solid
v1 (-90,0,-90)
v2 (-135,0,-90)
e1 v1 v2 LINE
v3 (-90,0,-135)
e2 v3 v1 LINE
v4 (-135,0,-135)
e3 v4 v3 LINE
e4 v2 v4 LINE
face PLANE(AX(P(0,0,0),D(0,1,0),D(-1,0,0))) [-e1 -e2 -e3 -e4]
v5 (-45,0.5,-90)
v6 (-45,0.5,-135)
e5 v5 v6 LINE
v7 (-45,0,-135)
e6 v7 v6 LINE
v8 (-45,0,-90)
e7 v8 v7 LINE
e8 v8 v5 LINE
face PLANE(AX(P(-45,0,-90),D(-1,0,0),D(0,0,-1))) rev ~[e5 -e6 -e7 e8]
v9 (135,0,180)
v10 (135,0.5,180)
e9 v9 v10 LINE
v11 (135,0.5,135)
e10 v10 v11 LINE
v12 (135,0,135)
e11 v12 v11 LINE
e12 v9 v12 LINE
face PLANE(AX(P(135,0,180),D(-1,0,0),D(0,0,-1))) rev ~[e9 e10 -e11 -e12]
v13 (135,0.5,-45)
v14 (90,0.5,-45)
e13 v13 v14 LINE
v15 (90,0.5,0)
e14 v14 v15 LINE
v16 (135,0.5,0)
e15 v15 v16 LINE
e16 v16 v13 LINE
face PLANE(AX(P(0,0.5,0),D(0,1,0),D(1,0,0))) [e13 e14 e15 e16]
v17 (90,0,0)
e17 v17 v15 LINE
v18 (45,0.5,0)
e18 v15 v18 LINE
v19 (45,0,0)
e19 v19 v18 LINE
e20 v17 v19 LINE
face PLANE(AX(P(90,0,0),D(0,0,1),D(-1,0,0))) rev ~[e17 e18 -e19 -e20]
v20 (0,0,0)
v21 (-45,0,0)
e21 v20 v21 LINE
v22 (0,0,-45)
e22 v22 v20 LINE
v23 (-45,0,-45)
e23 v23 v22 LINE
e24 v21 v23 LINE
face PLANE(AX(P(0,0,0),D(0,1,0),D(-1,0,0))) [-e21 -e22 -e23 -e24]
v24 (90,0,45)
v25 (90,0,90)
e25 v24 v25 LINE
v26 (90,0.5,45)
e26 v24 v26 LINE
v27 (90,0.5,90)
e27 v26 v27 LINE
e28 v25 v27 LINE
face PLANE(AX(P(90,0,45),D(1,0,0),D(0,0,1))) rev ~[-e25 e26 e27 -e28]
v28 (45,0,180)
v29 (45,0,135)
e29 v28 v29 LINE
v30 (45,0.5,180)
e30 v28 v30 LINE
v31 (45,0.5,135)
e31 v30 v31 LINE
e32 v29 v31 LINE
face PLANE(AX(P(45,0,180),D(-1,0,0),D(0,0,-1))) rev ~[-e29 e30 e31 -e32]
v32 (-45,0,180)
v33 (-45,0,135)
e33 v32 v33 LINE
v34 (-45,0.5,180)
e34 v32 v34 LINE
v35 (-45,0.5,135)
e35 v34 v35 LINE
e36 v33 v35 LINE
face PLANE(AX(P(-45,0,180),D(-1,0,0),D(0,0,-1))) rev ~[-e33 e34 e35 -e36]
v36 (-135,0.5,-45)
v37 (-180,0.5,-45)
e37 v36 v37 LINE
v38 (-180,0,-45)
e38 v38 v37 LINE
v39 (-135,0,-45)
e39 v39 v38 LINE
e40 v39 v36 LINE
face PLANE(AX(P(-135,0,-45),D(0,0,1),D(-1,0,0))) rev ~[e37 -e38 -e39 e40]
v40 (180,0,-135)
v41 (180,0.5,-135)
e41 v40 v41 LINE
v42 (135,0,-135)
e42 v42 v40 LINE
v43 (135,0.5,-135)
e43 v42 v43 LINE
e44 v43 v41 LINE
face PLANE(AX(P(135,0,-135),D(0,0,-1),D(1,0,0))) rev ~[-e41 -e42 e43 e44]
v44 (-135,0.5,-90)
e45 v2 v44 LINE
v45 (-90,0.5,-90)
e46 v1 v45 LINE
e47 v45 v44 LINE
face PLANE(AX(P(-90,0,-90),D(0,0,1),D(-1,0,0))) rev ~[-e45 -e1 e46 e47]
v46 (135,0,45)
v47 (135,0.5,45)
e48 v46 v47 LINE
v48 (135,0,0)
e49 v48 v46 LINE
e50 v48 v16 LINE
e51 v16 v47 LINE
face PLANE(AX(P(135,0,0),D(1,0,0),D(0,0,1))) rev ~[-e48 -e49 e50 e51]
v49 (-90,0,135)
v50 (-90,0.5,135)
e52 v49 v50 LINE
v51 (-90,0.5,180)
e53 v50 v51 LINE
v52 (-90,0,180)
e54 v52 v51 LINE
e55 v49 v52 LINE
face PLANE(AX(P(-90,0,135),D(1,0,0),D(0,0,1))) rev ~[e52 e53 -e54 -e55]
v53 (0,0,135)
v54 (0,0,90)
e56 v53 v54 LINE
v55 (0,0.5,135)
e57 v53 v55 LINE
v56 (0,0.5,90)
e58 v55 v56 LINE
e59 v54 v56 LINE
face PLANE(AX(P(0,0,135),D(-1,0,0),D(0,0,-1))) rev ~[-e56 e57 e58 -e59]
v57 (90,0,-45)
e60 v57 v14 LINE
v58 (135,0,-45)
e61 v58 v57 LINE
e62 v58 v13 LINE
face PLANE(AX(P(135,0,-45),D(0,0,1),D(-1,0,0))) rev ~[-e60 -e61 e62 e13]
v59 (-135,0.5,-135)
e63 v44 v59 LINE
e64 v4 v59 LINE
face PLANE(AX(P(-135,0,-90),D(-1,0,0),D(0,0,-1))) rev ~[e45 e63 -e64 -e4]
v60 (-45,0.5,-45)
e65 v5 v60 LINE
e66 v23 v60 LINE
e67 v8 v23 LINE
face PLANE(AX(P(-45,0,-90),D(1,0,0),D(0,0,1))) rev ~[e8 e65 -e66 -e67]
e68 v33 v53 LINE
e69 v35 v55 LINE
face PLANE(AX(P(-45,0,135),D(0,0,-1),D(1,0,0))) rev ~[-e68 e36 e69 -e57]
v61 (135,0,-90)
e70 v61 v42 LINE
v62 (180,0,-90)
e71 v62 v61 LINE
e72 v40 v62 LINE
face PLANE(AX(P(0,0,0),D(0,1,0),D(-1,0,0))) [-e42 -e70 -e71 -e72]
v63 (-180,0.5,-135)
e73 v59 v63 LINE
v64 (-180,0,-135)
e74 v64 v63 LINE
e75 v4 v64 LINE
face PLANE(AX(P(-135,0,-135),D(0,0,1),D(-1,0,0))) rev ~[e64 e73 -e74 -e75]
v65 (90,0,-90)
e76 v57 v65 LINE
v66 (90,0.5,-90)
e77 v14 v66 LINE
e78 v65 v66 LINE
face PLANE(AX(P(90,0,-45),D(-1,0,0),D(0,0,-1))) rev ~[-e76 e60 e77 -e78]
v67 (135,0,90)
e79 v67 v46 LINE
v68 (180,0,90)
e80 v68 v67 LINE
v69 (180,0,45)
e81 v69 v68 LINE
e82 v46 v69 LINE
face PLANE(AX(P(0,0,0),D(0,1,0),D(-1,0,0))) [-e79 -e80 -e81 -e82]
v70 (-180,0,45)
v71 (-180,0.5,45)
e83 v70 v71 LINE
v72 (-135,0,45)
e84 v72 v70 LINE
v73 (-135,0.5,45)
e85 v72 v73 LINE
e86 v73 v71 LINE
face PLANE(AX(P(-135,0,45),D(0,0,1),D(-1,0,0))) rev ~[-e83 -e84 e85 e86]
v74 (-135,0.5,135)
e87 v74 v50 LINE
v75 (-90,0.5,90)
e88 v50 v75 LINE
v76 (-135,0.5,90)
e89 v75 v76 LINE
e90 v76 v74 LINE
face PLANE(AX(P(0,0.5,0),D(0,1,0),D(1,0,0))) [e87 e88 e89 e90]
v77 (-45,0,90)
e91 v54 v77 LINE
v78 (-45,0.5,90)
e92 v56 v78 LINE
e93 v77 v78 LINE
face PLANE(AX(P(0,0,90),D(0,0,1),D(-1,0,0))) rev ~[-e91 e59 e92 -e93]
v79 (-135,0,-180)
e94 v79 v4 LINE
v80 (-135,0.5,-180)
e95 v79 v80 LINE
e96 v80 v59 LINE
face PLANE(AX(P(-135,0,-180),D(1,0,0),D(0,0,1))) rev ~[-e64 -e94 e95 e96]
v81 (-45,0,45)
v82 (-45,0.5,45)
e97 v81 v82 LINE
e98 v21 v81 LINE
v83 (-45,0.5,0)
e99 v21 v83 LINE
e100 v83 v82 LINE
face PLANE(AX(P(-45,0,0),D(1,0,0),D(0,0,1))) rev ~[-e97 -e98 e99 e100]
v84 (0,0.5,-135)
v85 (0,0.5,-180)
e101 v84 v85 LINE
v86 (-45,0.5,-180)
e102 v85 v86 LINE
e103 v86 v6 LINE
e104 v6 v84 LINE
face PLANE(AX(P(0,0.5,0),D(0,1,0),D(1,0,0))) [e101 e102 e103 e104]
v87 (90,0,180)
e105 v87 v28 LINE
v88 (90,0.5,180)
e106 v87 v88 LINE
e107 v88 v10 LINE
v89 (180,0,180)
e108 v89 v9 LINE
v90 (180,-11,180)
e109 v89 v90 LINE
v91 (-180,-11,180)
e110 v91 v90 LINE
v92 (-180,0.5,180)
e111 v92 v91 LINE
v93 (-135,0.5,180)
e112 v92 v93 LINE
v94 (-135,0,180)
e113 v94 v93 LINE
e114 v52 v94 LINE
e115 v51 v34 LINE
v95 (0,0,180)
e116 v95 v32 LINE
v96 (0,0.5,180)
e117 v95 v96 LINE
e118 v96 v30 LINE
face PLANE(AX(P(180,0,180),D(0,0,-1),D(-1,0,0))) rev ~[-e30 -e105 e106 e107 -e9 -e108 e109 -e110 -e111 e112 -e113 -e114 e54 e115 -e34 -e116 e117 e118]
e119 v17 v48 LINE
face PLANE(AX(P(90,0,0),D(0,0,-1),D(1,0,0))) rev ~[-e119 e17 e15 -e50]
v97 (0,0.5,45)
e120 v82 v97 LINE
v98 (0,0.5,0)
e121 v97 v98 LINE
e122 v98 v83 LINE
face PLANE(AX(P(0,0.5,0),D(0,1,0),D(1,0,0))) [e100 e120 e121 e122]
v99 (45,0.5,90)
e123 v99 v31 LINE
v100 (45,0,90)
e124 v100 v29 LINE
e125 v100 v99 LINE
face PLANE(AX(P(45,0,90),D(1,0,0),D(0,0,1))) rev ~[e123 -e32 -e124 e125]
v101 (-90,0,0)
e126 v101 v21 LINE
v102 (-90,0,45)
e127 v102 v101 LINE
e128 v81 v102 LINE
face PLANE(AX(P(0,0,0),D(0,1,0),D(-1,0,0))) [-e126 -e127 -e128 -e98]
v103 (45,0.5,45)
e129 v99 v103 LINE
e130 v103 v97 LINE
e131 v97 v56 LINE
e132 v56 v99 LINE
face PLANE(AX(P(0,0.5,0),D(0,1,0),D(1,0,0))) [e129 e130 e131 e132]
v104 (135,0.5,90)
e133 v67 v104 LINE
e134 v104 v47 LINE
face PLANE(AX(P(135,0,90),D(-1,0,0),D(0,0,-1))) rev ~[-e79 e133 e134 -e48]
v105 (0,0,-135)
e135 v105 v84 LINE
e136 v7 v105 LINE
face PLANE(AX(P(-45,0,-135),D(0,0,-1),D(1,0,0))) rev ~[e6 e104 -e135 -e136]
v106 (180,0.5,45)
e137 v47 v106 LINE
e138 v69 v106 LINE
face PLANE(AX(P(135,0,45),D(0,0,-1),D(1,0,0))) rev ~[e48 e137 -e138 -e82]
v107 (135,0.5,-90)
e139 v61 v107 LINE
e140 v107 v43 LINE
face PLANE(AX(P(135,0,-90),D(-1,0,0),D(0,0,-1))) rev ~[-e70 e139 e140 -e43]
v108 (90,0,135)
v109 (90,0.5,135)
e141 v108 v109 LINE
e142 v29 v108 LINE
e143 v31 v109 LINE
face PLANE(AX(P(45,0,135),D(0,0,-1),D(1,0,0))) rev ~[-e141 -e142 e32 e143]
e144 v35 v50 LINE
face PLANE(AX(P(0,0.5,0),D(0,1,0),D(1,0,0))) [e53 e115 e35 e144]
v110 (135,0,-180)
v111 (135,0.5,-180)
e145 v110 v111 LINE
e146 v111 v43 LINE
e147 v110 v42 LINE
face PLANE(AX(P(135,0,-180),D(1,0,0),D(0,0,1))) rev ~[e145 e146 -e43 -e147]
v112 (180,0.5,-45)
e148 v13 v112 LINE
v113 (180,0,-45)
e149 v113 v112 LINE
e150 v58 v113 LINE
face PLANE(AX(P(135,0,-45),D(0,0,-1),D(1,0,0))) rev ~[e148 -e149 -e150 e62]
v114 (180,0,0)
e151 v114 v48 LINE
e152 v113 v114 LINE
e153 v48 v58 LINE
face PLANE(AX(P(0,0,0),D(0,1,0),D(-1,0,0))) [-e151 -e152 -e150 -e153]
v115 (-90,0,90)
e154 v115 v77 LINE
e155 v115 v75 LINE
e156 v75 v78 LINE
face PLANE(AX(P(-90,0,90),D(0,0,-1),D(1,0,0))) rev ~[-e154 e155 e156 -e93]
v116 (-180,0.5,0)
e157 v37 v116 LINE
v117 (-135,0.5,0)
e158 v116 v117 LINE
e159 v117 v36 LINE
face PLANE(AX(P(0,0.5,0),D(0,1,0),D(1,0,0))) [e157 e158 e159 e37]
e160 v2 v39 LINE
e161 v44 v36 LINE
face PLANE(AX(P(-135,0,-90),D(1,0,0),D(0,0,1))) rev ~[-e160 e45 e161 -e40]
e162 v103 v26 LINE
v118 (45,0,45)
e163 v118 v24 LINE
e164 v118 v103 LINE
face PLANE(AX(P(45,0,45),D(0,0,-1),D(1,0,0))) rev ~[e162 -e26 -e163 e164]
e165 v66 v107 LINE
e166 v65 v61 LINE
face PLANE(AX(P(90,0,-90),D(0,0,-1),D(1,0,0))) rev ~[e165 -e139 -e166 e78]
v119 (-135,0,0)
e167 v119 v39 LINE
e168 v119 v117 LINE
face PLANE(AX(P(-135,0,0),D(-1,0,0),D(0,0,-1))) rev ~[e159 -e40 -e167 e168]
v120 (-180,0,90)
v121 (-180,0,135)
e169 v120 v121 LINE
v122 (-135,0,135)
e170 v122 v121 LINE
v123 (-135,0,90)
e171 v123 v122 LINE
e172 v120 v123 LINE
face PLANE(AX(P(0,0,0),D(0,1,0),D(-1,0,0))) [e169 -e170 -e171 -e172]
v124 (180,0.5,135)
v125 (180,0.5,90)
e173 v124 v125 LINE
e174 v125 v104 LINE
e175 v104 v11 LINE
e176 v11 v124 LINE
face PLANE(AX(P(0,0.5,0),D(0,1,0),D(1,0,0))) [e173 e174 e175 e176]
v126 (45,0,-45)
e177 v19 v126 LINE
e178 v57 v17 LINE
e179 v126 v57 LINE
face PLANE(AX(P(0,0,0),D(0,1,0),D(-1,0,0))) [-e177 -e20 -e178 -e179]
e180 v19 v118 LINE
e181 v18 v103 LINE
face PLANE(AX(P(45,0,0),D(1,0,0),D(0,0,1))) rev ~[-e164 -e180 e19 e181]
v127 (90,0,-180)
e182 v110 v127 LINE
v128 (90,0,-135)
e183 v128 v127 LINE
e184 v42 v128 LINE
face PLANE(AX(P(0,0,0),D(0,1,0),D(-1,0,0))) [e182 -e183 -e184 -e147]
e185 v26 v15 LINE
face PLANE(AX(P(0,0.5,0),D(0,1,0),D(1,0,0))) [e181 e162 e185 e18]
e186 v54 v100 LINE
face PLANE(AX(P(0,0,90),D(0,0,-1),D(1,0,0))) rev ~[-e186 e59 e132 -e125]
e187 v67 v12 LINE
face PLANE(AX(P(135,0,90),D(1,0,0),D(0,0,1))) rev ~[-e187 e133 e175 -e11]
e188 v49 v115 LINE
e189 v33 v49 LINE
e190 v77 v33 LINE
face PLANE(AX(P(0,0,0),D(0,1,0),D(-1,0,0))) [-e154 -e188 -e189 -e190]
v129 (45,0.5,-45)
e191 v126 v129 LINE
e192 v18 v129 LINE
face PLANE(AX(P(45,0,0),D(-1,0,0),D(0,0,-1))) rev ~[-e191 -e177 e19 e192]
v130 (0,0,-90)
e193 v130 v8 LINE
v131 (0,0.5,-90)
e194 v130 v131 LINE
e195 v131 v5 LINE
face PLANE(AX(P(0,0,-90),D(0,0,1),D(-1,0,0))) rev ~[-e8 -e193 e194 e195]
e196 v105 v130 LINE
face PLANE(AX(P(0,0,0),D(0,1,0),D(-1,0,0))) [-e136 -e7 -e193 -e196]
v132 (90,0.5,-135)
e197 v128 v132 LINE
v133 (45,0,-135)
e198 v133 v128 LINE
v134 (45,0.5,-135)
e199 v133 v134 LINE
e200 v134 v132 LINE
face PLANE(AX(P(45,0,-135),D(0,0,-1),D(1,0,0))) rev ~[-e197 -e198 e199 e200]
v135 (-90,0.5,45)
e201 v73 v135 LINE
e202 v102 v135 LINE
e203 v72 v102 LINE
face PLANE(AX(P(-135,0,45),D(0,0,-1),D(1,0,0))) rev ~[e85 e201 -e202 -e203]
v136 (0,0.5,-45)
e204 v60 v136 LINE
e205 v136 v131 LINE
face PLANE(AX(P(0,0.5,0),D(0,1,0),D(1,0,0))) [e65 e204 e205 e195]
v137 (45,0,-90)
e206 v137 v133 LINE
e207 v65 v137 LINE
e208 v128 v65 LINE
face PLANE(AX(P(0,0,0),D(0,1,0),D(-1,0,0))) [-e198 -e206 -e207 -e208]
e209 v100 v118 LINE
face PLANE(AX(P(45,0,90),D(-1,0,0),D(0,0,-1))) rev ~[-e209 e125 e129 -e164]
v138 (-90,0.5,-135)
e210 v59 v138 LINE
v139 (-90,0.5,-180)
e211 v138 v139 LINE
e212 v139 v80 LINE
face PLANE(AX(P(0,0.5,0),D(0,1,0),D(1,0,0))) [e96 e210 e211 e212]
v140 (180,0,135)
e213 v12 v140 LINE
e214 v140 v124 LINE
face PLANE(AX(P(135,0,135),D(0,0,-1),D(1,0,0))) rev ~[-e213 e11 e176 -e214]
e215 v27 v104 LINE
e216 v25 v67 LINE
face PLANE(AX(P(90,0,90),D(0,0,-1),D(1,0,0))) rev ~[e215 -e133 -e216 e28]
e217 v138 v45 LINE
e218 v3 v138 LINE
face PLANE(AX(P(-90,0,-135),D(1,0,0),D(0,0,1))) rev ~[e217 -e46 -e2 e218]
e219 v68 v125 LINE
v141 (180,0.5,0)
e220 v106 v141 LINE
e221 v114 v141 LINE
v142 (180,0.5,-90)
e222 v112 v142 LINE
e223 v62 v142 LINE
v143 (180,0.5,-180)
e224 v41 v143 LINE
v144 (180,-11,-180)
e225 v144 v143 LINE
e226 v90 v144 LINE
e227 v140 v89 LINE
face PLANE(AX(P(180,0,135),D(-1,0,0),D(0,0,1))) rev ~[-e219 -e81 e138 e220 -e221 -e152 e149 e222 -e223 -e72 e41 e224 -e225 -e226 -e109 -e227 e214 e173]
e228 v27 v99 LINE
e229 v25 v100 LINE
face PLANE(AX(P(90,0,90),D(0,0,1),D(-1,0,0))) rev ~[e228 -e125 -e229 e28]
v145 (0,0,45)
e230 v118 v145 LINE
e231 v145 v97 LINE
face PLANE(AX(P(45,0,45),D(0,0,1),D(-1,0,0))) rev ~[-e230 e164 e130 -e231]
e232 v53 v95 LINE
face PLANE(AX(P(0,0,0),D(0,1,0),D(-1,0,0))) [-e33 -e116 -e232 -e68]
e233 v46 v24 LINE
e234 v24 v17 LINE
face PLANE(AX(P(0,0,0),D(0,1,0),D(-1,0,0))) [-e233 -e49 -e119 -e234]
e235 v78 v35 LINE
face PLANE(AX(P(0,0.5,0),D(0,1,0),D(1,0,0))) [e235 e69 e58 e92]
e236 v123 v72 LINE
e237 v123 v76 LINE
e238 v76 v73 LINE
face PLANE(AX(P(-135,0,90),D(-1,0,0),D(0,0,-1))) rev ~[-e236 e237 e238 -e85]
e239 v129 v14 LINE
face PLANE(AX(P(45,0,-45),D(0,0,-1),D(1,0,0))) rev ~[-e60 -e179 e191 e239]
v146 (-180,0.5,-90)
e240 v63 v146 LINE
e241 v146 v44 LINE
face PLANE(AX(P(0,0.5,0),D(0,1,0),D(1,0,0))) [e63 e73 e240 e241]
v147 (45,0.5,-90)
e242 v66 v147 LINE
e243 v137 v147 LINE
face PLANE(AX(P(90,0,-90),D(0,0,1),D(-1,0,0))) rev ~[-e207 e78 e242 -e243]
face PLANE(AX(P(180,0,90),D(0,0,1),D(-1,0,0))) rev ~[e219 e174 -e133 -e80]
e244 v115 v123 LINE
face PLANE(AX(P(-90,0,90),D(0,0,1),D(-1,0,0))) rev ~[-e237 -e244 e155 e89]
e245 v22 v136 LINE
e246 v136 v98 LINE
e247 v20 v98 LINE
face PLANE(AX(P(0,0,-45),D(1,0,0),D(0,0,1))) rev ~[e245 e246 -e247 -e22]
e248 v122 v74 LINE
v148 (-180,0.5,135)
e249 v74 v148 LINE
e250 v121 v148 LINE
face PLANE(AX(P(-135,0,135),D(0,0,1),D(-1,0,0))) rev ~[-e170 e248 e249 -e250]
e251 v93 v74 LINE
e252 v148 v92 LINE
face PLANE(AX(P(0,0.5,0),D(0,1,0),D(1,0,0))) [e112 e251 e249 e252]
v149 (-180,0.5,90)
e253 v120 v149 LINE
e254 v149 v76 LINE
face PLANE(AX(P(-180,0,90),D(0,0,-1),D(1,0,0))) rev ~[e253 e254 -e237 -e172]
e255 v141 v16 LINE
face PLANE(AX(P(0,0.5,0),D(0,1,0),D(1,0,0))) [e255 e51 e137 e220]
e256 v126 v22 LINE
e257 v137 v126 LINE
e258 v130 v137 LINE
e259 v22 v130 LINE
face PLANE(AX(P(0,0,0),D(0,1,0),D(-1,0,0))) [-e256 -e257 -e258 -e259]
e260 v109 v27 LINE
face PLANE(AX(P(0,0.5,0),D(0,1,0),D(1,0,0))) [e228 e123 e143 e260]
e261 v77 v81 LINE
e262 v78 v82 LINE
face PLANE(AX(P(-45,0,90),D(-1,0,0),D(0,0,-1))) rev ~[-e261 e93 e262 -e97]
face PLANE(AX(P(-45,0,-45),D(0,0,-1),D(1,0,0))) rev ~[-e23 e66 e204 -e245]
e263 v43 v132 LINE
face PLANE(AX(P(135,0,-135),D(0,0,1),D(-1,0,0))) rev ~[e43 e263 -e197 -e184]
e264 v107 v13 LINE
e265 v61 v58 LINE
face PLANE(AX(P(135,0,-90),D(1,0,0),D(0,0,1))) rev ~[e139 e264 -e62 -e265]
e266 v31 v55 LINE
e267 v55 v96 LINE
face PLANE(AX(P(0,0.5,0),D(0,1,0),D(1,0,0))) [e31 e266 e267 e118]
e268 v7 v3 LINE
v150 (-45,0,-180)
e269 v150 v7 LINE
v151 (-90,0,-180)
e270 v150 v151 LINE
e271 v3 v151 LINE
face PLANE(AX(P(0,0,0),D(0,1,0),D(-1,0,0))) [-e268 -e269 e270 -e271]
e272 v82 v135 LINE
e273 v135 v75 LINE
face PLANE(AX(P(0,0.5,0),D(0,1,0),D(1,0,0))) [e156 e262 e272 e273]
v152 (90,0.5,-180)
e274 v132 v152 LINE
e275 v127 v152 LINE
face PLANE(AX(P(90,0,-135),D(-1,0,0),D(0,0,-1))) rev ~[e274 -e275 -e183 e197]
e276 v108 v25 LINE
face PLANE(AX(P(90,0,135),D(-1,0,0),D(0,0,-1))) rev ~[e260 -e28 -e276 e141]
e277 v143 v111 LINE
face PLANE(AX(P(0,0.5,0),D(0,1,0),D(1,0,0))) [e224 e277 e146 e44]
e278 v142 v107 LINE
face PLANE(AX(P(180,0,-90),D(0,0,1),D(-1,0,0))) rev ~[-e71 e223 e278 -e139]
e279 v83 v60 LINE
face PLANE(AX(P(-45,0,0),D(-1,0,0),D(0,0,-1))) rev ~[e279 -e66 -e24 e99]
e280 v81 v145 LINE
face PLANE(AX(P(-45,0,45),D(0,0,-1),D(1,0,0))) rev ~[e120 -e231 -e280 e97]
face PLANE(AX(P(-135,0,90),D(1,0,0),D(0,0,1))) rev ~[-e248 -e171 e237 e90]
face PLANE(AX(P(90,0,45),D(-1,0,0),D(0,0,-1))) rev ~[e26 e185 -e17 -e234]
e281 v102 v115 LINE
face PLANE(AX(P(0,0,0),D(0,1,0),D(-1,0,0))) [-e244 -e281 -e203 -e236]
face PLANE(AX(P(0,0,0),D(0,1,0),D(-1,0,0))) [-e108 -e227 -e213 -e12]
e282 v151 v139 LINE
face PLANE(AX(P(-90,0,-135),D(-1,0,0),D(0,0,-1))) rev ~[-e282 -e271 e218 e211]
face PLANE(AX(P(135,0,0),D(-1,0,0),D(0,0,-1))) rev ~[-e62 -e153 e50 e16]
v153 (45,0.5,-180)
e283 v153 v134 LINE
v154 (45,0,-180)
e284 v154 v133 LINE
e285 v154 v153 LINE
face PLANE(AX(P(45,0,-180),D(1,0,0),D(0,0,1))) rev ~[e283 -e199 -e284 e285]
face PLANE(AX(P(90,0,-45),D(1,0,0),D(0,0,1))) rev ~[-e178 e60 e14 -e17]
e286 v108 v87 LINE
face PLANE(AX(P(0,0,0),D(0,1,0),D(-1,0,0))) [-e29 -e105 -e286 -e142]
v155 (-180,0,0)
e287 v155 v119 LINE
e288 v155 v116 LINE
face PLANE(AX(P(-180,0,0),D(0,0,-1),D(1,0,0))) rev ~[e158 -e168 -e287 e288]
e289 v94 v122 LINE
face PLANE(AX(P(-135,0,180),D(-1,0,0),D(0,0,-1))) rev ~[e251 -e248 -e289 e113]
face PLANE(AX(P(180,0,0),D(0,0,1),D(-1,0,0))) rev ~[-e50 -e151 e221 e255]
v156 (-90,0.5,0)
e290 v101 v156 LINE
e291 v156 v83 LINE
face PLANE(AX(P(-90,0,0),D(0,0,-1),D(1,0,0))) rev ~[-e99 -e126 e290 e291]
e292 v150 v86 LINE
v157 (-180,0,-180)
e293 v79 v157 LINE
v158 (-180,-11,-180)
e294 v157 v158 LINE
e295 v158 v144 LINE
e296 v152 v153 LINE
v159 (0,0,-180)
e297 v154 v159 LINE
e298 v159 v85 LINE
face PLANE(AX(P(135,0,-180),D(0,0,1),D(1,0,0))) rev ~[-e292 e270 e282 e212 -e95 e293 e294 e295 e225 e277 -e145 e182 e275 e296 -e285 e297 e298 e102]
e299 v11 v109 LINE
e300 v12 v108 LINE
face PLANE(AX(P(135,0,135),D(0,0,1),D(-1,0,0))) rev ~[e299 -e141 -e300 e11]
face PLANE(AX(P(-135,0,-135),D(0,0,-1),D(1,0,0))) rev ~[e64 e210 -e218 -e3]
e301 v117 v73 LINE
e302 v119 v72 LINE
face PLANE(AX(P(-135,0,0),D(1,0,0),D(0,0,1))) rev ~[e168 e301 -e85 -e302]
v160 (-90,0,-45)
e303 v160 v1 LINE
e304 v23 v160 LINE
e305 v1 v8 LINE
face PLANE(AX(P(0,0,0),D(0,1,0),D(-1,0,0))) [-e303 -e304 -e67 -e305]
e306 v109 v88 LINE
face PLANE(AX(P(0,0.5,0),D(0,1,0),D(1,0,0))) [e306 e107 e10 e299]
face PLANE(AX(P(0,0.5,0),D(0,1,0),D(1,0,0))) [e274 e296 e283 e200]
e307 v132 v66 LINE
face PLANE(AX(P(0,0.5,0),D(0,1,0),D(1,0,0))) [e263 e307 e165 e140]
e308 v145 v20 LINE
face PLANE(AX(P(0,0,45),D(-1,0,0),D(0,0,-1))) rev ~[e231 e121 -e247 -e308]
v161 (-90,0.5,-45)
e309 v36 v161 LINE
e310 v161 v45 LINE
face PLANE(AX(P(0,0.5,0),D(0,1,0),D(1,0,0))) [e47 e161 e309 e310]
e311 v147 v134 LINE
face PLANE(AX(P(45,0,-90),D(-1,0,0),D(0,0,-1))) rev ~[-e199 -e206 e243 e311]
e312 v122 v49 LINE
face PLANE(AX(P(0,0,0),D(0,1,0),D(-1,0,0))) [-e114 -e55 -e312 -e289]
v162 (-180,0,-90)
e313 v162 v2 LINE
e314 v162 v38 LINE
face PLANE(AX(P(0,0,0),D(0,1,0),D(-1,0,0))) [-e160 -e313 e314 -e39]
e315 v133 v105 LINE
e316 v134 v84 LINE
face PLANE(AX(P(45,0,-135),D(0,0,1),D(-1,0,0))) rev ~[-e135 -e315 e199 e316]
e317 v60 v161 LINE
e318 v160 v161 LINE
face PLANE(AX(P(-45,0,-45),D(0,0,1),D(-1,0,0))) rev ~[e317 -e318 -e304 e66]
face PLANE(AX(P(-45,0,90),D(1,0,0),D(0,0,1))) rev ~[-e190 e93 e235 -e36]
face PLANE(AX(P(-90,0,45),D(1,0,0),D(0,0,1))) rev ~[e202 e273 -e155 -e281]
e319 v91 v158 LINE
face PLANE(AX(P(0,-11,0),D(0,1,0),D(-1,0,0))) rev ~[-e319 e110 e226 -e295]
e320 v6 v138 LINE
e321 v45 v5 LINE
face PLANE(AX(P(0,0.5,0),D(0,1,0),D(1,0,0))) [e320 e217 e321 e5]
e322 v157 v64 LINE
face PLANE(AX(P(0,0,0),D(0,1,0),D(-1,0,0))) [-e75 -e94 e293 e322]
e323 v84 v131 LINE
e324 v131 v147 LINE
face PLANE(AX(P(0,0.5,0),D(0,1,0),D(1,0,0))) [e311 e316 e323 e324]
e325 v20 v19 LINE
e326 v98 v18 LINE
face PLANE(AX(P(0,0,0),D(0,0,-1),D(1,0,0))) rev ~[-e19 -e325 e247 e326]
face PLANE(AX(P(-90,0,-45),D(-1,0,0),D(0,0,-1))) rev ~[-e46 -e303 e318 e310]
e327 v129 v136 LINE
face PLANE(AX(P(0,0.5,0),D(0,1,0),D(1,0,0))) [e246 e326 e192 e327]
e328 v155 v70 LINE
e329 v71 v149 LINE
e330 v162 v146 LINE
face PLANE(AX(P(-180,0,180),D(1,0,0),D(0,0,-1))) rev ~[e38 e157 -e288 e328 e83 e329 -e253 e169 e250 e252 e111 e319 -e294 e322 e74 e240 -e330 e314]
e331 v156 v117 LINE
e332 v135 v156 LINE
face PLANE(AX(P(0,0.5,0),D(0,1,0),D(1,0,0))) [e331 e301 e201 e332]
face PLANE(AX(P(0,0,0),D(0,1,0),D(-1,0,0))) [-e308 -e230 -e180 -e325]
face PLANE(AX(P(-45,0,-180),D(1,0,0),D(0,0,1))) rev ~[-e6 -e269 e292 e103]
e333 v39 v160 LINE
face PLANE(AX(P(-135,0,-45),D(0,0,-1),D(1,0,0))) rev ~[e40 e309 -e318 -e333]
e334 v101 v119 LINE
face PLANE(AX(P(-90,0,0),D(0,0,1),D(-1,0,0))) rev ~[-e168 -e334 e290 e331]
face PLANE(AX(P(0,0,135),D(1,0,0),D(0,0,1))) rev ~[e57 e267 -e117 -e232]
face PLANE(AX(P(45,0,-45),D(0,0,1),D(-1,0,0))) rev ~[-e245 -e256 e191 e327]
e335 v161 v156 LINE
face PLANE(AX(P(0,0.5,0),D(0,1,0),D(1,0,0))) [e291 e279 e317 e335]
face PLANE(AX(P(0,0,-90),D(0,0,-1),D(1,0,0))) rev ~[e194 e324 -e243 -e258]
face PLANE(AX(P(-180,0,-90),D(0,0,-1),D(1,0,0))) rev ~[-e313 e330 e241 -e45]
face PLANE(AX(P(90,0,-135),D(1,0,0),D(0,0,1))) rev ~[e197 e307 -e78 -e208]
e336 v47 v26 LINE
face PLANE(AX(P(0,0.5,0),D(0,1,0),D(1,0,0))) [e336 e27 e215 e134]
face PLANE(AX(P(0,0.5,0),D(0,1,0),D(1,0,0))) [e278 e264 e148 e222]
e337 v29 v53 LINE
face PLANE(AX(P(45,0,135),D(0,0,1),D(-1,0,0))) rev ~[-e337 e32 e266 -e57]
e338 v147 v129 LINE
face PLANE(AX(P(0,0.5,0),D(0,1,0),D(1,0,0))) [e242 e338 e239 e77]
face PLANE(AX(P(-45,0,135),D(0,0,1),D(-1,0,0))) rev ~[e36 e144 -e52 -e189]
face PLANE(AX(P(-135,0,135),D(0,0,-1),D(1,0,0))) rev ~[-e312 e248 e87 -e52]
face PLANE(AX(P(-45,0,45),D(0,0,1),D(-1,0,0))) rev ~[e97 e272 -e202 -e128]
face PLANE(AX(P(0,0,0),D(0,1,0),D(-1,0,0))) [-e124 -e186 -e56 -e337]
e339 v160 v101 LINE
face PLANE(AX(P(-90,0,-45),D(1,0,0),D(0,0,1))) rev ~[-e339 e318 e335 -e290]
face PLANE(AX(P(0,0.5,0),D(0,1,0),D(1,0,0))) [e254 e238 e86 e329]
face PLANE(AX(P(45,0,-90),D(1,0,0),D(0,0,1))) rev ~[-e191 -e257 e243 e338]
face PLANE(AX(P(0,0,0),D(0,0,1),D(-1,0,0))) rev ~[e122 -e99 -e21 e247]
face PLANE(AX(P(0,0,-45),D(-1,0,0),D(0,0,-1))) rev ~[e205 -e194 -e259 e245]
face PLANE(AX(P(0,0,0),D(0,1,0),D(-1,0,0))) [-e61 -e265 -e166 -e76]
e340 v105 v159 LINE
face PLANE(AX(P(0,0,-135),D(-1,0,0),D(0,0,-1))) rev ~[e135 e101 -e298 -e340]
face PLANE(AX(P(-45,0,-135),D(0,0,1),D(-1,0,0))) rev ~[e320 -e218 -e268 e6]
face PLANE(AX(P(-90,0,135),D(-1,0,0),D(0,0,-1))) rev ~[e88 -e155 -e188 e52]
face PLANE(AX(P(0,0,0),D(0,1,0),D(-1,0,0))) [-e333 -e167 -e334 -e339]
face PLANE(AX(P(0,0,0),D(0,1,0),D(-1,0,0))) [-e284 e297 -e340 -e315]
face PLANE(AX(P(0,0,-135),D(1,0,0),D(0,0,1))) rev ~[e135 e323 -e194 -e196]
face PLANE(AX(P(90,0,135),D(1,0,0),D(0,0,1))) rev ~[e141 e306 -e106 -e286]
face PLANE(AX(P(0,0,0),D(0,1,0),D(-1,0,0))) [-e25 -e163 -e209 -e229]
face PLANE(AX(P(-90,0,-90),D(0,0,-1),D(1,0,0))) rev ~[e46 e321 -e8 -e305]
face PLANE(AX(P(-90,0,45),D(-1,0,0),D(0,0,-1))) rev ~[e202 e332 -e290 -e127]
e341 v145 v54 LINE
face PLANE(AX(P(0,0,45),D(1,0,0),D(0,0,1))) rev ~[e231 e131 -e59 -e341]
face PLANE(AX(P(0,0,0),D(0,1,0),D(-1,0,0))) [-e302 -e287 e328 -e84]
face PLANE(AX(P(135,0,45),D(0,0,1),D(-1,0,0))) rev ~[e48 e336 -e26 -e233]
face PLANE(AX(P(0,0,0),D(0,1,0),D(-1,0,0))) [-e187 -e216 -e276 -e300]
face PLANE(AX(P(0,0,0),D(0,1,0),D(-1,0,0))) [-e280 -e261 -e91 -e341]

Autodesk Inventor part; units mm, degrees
ref_plane "YZ Plane" through (0, 0, 0) normal (1, 0, 0) x (0, 1, 0)
ref_plane "XZ Plane" through (0, 0, 0) normal (0, 1, 0) x (-1, 0, 0)
ref_plane "XY Plane" through (0, 0, 0) normal (0, 0, 1) x (1, 0, 0)
sketch "Sketch1" plane through (0, 0, 0) normal (0, 1, 0) x (-1, 0, 0)
  line L0 (-180, 180) -> (180, 180)
  line L1 (180, 180) -> (180, -180)
  line L2 (180, -180) -> (-180, -180)
  line L3 (-180, -180) -> (-180, 180)
  line L4 (-180, 180) -> (180, -180) construction
  line L5 (180, 180) -> (-180, -180) construction
  line L6 (180, 180) -> (135, 180)
  line L7 (135, 180) -> (135, 135)
  line L8 (135, 135) -> (180, 135)
  line L9 (180, 135) -> (180, 180)
  line L10 (180, 135) -> (135, 135)
  line L11 (135, 135) -> (135, 90)
  line L12 (135, 90) -> (180, 90)
  line L13 (180, 90) -> (180, 135)
  line L14 (180, 90) -> (135, 90)
  line L15 (135, 90) -> (135, 45)
  line L16 (135, 45) -> (180, 45)
  line L17 (180, 45) -> (180, 90)
  line L18 (180, 45) -> (135, 45)
  line L19 (135, 45) -> (135, 0)
  line L20 (135, 0) -> (180, 0)
  line L21 (180, 0) -> (180, 45)
  line L22 (180, 0) -> (135, 0)
  line L23 (135, 0) -> (135, -45)
  line L24 (135, -45) -> (180, -45)
  line L25 (180, -45) -> (180, 0)
  line L26 (180, -45) -> (135, -45)
  line L27 (135, -45) -> (135, -90)
  line L28 (135, -90) -> (180, -90)
  line L29 (180, -90) -> (180, -45)
  line L30 (180, -90) -> (135, -90)
  line L31 (135, -90) -> (135, -135)
  line L32 (135, -135) -> (180, -135)
  line L33 (180, -135) -> (180, -90)
  line L34 (180, -135) -> (135, -135)
  line L35 (135, -135) -> (135, -180)
  line L36 (135, -180) -> (180, -180)
  line L37 (180, -180) -> (180, -135)
  line L38 (135, 180) -> (90, 180)
  line L39 (90, 180) -> (90, 135)
  line L40 (90, 135) -> (135, 135)
  line L41 (135, 135) -> (135, 180)
  line L42 (135, 135) -> (90, 135)
  line L43 (90, 135) -> (90, 90)
  line L44 (90, 90) -> (135, 90)
  line L45 (135, 90) -> (135, 135)
  line L46 (135, 90) -> (90, 90)
  line L47 (90, 90) -> (90, 45)
  line L48 (90, 45) -> (135, 45)
  line L49 (135, 45) -> (135, 90)
  line L50 (135, 45) -> (90, 45)
  line L51 (90, 45) -> (90, 0)
  line L52 (90, 0) -> (135, 0)
  line L53 (135, 0) -> (135, 45)
  line L54 (135, 0) -> (90, 0)
  line L55 (90, 0) -> (90, -45)
  line L56 (90, -45) -> (135, -45)
  line L57 (135, -45) -> (135, 0)
  line L58 (135, -45) -> (90, -45)
  line L59 (90, -45) -> (90, -90)
  line L60 (90, -90) -> (135, -90)
  line L61 (135, -90) -> (135, -45)
  line L62 (135, -90) -> (90, -90)
  line L63 (90, -90) -> (90, -135)
  line L64 (90, -135) -> (135, -135)
  line L65 (135, -135) -> (135, -90)
  line L66 (135, -135) -> (90, -135)
  line L67 (90, -135) -> (90, -180)
  line L68 (90, -180) -> (135, -180)
  line L69 (135, -180) -> (135, -135)
  line L70 (90, 180) -> (45, 180)
  line L71 (45, 180) -> (45, 135)
  line L72 (45, 135) -> (90, 135)
  line L73 (90, 135) -> (90, 180)
  line L74 (90, 135) -> (45, 135)
  line L75 (45, 135) -> (45, 90)
  line L76 (45, 90) -> (90, 90)
  line L77 (90, 90) -> (90, 135)
  line L78 (90, 90) -> (45, 90)
  line L79 (45, 90) -> (45, 45)
  line L80 (45, 45) -> (90, 45)
  line L81 (90, 45) -> (90, 90)
  line L82 (90, 45) -> (45, 45)
  line L83 (45, 45) -> (45, 0)
  line L84 (45, 0) -> (90, 0)
  line L85 (90, 0) -> (90, 45)
  line L86 (90, 0) -> (45, 0)
  line L87 (45, 0) -> (45, -45)
  line L88 (45, -45) -> (90, -45)
  line L89 (90, -45) -> (90, 0)
  line L90 (90, -45) -> (45, -45)
  line L91 (45, -45) -> (45, -90)
  line L92 (45, -90) -> (90, -90)
  line L93 (90, -90) -> (90, -45)
  line L94 (90, -90) -> (45, -90)
  line L95 (45, -90) -> (45, -135)
  line L96 (45, -135) -> (90, -135)
  line L97 (90, -135) -> (90, -90)
  line L98 (90, -135) -> (45, -135)
  line L99 (45, -135) -> (45, -180)
  line L100 (45, -180) -> (90, -180)
  line L101 (90, -180) -> (90, -135)
  line L102 (45, 180) -> (0, 180)
  line L103 (0, 180) -> (0, 135)
  line L104 (0, 135) -> (45, 135)
  line L105 (45, 135) -> (45, 180)
  line L106 (45, 135) -> (0, 135)
  line L107 (0, 135) -> (0, 90)
  line L108 (0, 90) -> (45, 90)
  line L109 (45, 90) -> (45, 135)
  line L110 (45, 90) -> (0, 90)
  line L111 (0, 90) -> (0, 45)
  line L112 (0, 45) -> (45, 45)
  line L113 (45, 45) -> (45, 90)
  line L114 (45, 45) -> (0, 45)
  line L115 (0, 45) -> (0, 0)
  line L116 (0, 0) -> (45, 0)
  line L117 (45, 0) -> (45, 45)
  line L118 (45, 0) -> (0, 0)
  line L119 (0, 0) -> (0, -45)
  line L120 (0, -45) -> (45, -45)
  line L121 (45, -45) -> (45, 0)
  line L122 (45, -45) -> (0, -45)
  line L123 (0, -45) -> (0, -90)
  line L124 (0, -90) -> (45, -90)
  line L125 (45, -90) -> (45, -45)
  line L126 (45, -90) -> (0, -90)
  line L127 (0, -90) -> (0, -135)
  line L128 (0, -135) -> (45, -135)
  line L129 (45, -135) -> (45, -90)
  line L130 (45, -135) -> (0, -135)
  line L131 (0, -135) -> (0, -180)
  line L132 (0, -180) -> (45, -180)
  line L133 (45, -180) -> (45, -135)
  line L134 (0, 180) -> (-45, 180)
  line L135 (-45, 180) -> (-45, 135)
  line L136 (-45, 135) -> (0, 135)
  line L137 (0, 135) -> (0, 180)
  line L138 (0, 135) -> (-45, 135)
  line L139 (-45, 135) -> (-45, 90)
  line L140 (-45, 90) -> (0, 90)
  line L141 (0, 90) -> (0, 135)
  line L142 (0, 90) -> (-45, 90)
  line L143 (-45, 90) -> (-45, 45)
  line L144 (-45, 45) -> (0, 45)
  line L145 (0, 45) -> (0, 90)
  line L146 (0, 45) -> (-45, 45)
  line L147 (-45, 45) -> (-45, 0)
  line L148 (-45, 0) -> (0, 0)
  line L149 (0, 0) -> (0, 45)
  line L150 (0, 0) -> (-45, 0)
  line L151 (-45, 0) -> (-45, -45)
  line L152 (-45, -45) -> (0, -45)
  line L153 (0, -45) -> (0, 0)
  line L154 (0, -45) -> (-45, -45)
  line L155 (-45, -45) -> (-45, -90)
  line L156 (-45, -90) -> (0, -90)
  line L157 (0, -90) -> (0, -45)
  line L158 (0, -90) -> (-45, -90)
  line L159 (-45, -90) -> (-45, -135)
  line L160 (-45, -135) -> (0, -135)
  line L161 (0, -135) -> (0, -90)
  line L162 (0, -135) -> (-45, -135)
  line L163 (-45, -135) -> (-45, -180)
  line L164 (-45, -180) -> (0, -180)
  line L165 (0, -180) -> (0, -135)
  line L166 (-45, 180) -> (-90, 180)
  line L167 (-90, 180) -> (-90, 135)
  line L168 (-90, 135) -> (-45, 135)
  line L169 (-45, 135) -> (-45, 180)
  line L170 (-45, 135) -> (-90, 135)
  line L171 (-90, 135) -> (-90, 90)
  line L172 (-90, 90) -> (-45, 90)
  line L173 (-45, 90) -> (-45, 135)
  line L174 (-45, 90) -> (-90, 90)
  line L175 (-90, 90) -> (-90, 45)
  line L176 (-90, 45) -> (-45, 45)
  line L177 (-45, 45) -> (-45, 90)
  line L178 (-45, 45) -> (-90, 45)
  line L179 (-90, 45) -> (-90, 0)
  line L180 (-90, 0) -> (-45, 0)
  line L181 (-45, 0) -> (-45, 45)
  line L182 (-45, 0) -> (-90, 0)
  line L183 (-90, 0) -> (-90, -45)
  line L184 (-90, -45) -> (-45, -45)
  line L185 (-45, -45) -> (-45, 0)
  line L186 (-45, -45) -> (-90, -45)
  line L187 (-90, -45) -> (-90, -90)
  line L188 (-90, -90) -> (-45, -90)
  line L189 (-45, -90) -> (-45, -45)
  line L190 (-45, -90) -> (-90, -90)
  line L191 (-90, -90) -> (-90, -135)
  line L192 (-90, -135) -> (-45, -135)
  line L193 (-45, -135) -> (-45, -90)
  line L194 (-45, -135) -> (-90, -135)
  line L195 (-90, -135) -> (-90, -180)
  line L196 (-90, -180) -> (-45, -180)
  line L197 (-45, -180) -> (-45, -135)
  line L198 (-90, 180) -> (-135, 180)
  line L199 (-135, 180) -> (-135, 135)
  line L200 (-135, 135) -> (-90, 135)
  line L201 (-90, 135) -> (-90, 180)
  line L202 (-90, 135) -> (-135, 135)
  line L203 (-135, 135) -> (-135, 90)
  line L204 (-135, 90) -> (-90, 90)
  line L205 (-90, 90) -> (-90, 135)
  line L206 (-90, 90) -> (-135, 90)
  line L207 (-135, 90) -> (-135, 45)
  line L208 (-135, 45) -> (-90, 45)
  line L209 (-90, 45) -> (-90, 90)
  line L210 (-90, 45) -> (-135, 45)
  line L211 (-135, 45) -> (-135, 0)
  line L212 (-135, 0) -> (-90, 0)
  line L213 (-90, 0) -> (-90, 45)
  line L214 (-90, 0) -> (-135, 0)
  line L215 (-135, 0) -> (-135, -45)
  line L216 (-135, -45) -> (-90, -45)
  line L217 (-90, -45) -> (-90, 0)
  line L218 (-90, -45) -> (-135, -45)
  line L219 (-135, -45) -> (-135, -90)
  line L220 (-135, -90) -> (-90, -90)
  line L221 (-90, -90) -> (-90, -45)
  line L222 (-90, -90) -> (-135, -90)
  line L223 (-135, -90) -> (-135, -135)
  line L224 (-135, -135) -> (-90, -135)
  line L225 (-90, -135) -> (-90, -90)
  line L226 (-90, -135) -> (-135, -135)
  line L227 (-135, -135) -> (-135, -180)
  line L228 (-135, -180) -> (-90, -180)
  line L229 (-90, -180) -> (-90, -135)
  line L230 (-135, 180) -> (-180, 180)
  line L231 (-180, 180) -> (-180, 135)
  line L232 (-180, 135) -> (-135, 135)
  line L233 (-135, 135) -> (-135, 180)
  line L234 (-135, 135) -> (-180, 135)
  line L235 (-180, 135) -> (-180, 90)
  line L236 (-180, 90) -> (-135, 90)
  line L237 (-135, 90) -> (-135, 135)
  line L238 (-135, 90) -> (-180, 90)
  line L239 (-180, 90) -> (-180, 45)
  line L240 (-180, 45) -> (-135, 45)
  line L241 (-135, 45) -> (-135, 90)
  line L242 (-135, 45) -> (-180, 45)
  line L243 (-180, 45) -> (-180, 0)
  line L244 (-180, 0) -> (-135, 0)
  line L245 (-135, 0) -> (-135, 45)
  line L246 (-135, 0) -> (-180, 0)
  line L247 (-180, 0) -> (-180, -45)
  line L248 (-180, -45) -> (-135, -45)
  line L249 (-135, -45) -> (-135, 0)
  line L250 (-135, -45) -> (-180, -45)
  line L251 (-180, -45) -> (-180, -90)
  line L252 (-180, -90) -> (-135, -90)
  line L253 (-135, -90) -> (-135, -45)
  line L254 (-135, -90) -> (-180, -90)
  line L255 (-180, -90) -> (-180, -135)
  line L256 (-180, -135) -> (-135, -135)
  line L257 (-135, -135) -> (-135, -90)
  line L258 (-135, -135) -> (-180, -135)
  line L259 (-180, -135) -> (-180, -180)
  line L260 (-180, -180) -> (-135, -180)
  line L261 (-135, -180) -> (-135, -135)
  dimension "d0" = 360
  dimension "d1" = 360
  dimension "d2" = 45
  dimension "d3" = 45
  dimension "d6" = 45
  dimension "d9" = 45
extrude "Extrusion1" add sketch "Sketch1" against normal blind 11
sketch "Sketch2" plane through (0, 0, 0) normal (0, 1, 0) x (1, 0, 0)
  line L0 (-180, -180) -> (-135, -180)
  line L1 (-135, -180) -> (-135, -135)
  line L2 (-135, -135) -> (-180, -135)
  line L3 (-180, -135) -> (-180, -180)
  line L4 (-180, -90) -> (-135, -90)
  line L5 (-135, -90) -> (-135, -45)
  line L6 (-135, -45) -> (-180, -45)
  line L7 (-180, -45) -> (-180, -90)
  line L8 (-180, 0) -> (-135, 0)
  line L9 (-135, 0) -> (-135, 45)
  line L10 (-135, 45) -> (-180, 45)
  line L11 (-180, 45) -> (-180, 0)
  line L12 (-180, 90) -> (-135, 90)
  line L13 (-135, 90) -> (-135, 135)
  line L14 (-135, 135) -> (-180, 135)
  line L15 (-180, 135) -> (-180, 90)
  line L16 (-90, -180) -> (-45, -180)
  line L17 (-45, -180) -> (-45, -135)
  line L18 (-45, -135) -> (-90, -135)
  line L19 (-90, -135) -> (-90, -180)
  line L20 (-90, -90) -> (-45, -90)
  line L21 (-45, -90) -> (-45, -45)
  line L22 (-45, -45) -> (-90, -45)
  line L23 (-90, -45) -> (-90, -90)
  line L24 (-90, 0) -> (-45, 0)
  line L25 (-45, 0) -> (-45, 45)
  line L26 (-45, 45) -> (-90, 45)
  line L27 (-90, 45) -> (-90, 0)
  line L28 (-90, 90) -> (-45, 90)
  line L29 (-45, 90) -> (-45, 135)
  line L30 (-45, 135) -> (-90, 135)
  line L31 (-90, 135) -> (-90, 90)
  line L32 (0, -180) -> (45, -180)
  line L33 (45, -180) -> (45, -135)
  line L34 (45, -135) -> (0, -135)
  line L35 (0, -135) -> (0, -180)
  line L36 (0, -90) -> (45, -90)
  line L37 (45, -90) -> (45, -45)
  line L38 (45, -45) -> (0, -45)
  line L39 (0, -45) -> (0, -90)
  line L40 (0, 0) -> (45, 0)
  line L41 (45, 0) -> (45, 45)
  line L42 (45, 45) -> (0, 45)
  line L43 (0, 45) -> (0, 0)
  line L44 (0, 90) -> (45, 90)
  line L45 (45, 90) -> (45, 135)
  line L46 (45, 135) -> (0, 135)
  line L47 (0, 135) -> (0, 90)
  line L48 (90, -180) -> (135, -180)
  line L49 (135, -180) -> (135, -135)
  line L50 (135, -135) -> (90, -135)
  line L51 (90, -135) -> (90, -180)
  line L52 (90, -90) -> (135, -90)
  line L53 (135, -90) -> (135, -45)
  line L54 (135, -45) -> (90, -45)
  line L55 (90, -45) -> (90, -90)
  line L56 (90, 0) -> (135, 0)
  line L57 (135, 0) -> (135, 45)
  line L58 (135, 45) -> (90, 45)
  line L59 (90, 45) -> (90, 0)
  line L60 (90, 90) -> (135, 90)
  line L61 (135, 90) -> (135, 135)
  line L62 (135, 135) -> (90, 135)
  line L63 (90, 135) -> (90, 90)
  line L64 (-135, -135) -> (-90, -135)
  line L65 (-90, -135) -> (-90, -90)
  line L66 (-90, -90) -> (-135, -90)
  line L67 (-135, -90) -> (-135, -135)
  line L68 (-135, -45) -> (-90, -45)
  line L69 (-90, -45) -> (-90, 0)
  line L70 (-90, 0) -> (-135, 0)
  line L71 (-135, 0) -> (-135, -45)
  line L72 (-135, 45) -> (-90, 45)
  line L73 (-90, 45) -> (-90, 90)
  line L74 (-90, 90) -> (-135, 90)
  line L75 (-135, 90) -> (-135, 45)
  line L76 (-135, 135) -> (-90, 135)
  line L77 (-90, 135) -> (-90, 180)
  line L78 (-90, 180) -> (-135, 180)
  line L79 (-135, 180) -> (-135, 135)
  line L80 (-45, -135) -> (0, -135)
  line L81 (0, -135) -> (0, -90)
  line L82 (0, -90) -> (-45, -90)
  line L83 (-45, -90) -> (-45, -135)
  line L84 (-45, -45) -> (0, -45)
  line L85 (0, -45) -> (0, 0)
  line L86 (0, 0) -> (-45, 0)
  line L87 (-45, 0) -> (-45, -45)
  line L88 (-45, 45) -> (0, 45)
  line L89 (0, 45) -> (0, 90)
  line L90 (0, 90) -> (-45, 90)
  line L91 (-45, 90) -> (-45, 45)
  line L92 (-45, 135) -> (0, 135)
  line L93 (0, 135) -> (0, 180)
  line L94 (0, 180) -> (-45, 180)
  line L95 (-45, 180) -> (-45, 135)
  line L96 (45, -135) -> (90, -135)
  line L97 (90, -135) -> (90, -90)
  line L98 (90, -90) -> (45, -90)
  line L99 (45, -90) -> (45, -135)
  line L100 (45, -45) -> (90, -45)
  line L101 (90, -45) -> (90, 0)
  line L102 (90, 0) -> (45, 0)
  line L103 (45, 0) -> (45, -45)
  line L104 (45, 45) -> (90, 45)
  line L105 (90, 45) -> (90, 90)
  line L106 (90, 90) -> (45, 90)
  line L107 (45, 90) -> (45, 45)
  line L108 (45, 135) -> (90, 135)
  line L109 (90, 135) -> (90, 180)
  line L110 (90, 180) -> (45, 180)
  line L111 (45, 180) -> (45, 135)
  line L112 (135, -135) -> (180, -135)
  line L113 (180, -135) -> (180, -90)
  line L114 (180, -90) -> (135, -90)
  line L115 (135, -90) -> (135, -135)
  line L116 (135, -45) -> (180, -45)
  line L117 (180, -45) -> (180, 0)
  line L118 (180, 0) -> (135, 0)
  line L119 (135, 0) -> (135, -45)
  line L120 (135, 45) -> (180, 45)
  line L121 (180, 45) -> (180, 90)
  line L122 (180, 90) -> (135, 90)
  line L123 (135, 90) -> (135, 45)
  line L124 (135, 135) -> (180, 135)
  line L125 (180, 135) -> (180, 180)
  line L126 (180, 180) -> (135, 180)
  line L127 (135, 180) -> (135, 135)
  dimension "d14" = 45
  dimension "d15" = 45
  dimension "d18" = 90
  dimension "d21" = 90
  dimension "d28" = 45
  dimension "d29" = 45
  dimension "d30" = 90
  dimension "d31" = 90
extrude "Extrusion2" add sketch "Sketch2" along normal blind 0.5 contours L3 L2 L1 L0 | L127 L126 L125 L124 | L67 L66 L65 L64 | L18 L17 L16 L19 | L4 L7 L6 L5 | L83 L82 L81 L80 | L23 L22 L21 L20 | L71 L70 L69 L68 | L34 L33 L32 L35 | L8 L11 L10 L9 | L99 L98 L97 L96 | L39 L38 L37 L36 | L87 L86 L85 L84 | L27 L26 L25 L24 | L75 L74 L73 L72 | L50 L49 L48 L51 | L12 L15 L14 L13 | L115 L114 L113 L112 | L55 L54 L53 L52 | L103 L102 L101 L100 | L43 L42 L41 L40 | L91 L90 L89 L88 | L31 L30 L29 L28 | L79 L78 L77 L76 | L119 L118 L117 L116 | L59 L58 L57 L56 | L107 L106 L105 L104 | L47 L46 L45 L44 | L95 L94 L93 L92 | L123 L122 L121 L120 | L63 L62 L61 L60 | L111 L110 L109 L108
properties part number "Board 001"
